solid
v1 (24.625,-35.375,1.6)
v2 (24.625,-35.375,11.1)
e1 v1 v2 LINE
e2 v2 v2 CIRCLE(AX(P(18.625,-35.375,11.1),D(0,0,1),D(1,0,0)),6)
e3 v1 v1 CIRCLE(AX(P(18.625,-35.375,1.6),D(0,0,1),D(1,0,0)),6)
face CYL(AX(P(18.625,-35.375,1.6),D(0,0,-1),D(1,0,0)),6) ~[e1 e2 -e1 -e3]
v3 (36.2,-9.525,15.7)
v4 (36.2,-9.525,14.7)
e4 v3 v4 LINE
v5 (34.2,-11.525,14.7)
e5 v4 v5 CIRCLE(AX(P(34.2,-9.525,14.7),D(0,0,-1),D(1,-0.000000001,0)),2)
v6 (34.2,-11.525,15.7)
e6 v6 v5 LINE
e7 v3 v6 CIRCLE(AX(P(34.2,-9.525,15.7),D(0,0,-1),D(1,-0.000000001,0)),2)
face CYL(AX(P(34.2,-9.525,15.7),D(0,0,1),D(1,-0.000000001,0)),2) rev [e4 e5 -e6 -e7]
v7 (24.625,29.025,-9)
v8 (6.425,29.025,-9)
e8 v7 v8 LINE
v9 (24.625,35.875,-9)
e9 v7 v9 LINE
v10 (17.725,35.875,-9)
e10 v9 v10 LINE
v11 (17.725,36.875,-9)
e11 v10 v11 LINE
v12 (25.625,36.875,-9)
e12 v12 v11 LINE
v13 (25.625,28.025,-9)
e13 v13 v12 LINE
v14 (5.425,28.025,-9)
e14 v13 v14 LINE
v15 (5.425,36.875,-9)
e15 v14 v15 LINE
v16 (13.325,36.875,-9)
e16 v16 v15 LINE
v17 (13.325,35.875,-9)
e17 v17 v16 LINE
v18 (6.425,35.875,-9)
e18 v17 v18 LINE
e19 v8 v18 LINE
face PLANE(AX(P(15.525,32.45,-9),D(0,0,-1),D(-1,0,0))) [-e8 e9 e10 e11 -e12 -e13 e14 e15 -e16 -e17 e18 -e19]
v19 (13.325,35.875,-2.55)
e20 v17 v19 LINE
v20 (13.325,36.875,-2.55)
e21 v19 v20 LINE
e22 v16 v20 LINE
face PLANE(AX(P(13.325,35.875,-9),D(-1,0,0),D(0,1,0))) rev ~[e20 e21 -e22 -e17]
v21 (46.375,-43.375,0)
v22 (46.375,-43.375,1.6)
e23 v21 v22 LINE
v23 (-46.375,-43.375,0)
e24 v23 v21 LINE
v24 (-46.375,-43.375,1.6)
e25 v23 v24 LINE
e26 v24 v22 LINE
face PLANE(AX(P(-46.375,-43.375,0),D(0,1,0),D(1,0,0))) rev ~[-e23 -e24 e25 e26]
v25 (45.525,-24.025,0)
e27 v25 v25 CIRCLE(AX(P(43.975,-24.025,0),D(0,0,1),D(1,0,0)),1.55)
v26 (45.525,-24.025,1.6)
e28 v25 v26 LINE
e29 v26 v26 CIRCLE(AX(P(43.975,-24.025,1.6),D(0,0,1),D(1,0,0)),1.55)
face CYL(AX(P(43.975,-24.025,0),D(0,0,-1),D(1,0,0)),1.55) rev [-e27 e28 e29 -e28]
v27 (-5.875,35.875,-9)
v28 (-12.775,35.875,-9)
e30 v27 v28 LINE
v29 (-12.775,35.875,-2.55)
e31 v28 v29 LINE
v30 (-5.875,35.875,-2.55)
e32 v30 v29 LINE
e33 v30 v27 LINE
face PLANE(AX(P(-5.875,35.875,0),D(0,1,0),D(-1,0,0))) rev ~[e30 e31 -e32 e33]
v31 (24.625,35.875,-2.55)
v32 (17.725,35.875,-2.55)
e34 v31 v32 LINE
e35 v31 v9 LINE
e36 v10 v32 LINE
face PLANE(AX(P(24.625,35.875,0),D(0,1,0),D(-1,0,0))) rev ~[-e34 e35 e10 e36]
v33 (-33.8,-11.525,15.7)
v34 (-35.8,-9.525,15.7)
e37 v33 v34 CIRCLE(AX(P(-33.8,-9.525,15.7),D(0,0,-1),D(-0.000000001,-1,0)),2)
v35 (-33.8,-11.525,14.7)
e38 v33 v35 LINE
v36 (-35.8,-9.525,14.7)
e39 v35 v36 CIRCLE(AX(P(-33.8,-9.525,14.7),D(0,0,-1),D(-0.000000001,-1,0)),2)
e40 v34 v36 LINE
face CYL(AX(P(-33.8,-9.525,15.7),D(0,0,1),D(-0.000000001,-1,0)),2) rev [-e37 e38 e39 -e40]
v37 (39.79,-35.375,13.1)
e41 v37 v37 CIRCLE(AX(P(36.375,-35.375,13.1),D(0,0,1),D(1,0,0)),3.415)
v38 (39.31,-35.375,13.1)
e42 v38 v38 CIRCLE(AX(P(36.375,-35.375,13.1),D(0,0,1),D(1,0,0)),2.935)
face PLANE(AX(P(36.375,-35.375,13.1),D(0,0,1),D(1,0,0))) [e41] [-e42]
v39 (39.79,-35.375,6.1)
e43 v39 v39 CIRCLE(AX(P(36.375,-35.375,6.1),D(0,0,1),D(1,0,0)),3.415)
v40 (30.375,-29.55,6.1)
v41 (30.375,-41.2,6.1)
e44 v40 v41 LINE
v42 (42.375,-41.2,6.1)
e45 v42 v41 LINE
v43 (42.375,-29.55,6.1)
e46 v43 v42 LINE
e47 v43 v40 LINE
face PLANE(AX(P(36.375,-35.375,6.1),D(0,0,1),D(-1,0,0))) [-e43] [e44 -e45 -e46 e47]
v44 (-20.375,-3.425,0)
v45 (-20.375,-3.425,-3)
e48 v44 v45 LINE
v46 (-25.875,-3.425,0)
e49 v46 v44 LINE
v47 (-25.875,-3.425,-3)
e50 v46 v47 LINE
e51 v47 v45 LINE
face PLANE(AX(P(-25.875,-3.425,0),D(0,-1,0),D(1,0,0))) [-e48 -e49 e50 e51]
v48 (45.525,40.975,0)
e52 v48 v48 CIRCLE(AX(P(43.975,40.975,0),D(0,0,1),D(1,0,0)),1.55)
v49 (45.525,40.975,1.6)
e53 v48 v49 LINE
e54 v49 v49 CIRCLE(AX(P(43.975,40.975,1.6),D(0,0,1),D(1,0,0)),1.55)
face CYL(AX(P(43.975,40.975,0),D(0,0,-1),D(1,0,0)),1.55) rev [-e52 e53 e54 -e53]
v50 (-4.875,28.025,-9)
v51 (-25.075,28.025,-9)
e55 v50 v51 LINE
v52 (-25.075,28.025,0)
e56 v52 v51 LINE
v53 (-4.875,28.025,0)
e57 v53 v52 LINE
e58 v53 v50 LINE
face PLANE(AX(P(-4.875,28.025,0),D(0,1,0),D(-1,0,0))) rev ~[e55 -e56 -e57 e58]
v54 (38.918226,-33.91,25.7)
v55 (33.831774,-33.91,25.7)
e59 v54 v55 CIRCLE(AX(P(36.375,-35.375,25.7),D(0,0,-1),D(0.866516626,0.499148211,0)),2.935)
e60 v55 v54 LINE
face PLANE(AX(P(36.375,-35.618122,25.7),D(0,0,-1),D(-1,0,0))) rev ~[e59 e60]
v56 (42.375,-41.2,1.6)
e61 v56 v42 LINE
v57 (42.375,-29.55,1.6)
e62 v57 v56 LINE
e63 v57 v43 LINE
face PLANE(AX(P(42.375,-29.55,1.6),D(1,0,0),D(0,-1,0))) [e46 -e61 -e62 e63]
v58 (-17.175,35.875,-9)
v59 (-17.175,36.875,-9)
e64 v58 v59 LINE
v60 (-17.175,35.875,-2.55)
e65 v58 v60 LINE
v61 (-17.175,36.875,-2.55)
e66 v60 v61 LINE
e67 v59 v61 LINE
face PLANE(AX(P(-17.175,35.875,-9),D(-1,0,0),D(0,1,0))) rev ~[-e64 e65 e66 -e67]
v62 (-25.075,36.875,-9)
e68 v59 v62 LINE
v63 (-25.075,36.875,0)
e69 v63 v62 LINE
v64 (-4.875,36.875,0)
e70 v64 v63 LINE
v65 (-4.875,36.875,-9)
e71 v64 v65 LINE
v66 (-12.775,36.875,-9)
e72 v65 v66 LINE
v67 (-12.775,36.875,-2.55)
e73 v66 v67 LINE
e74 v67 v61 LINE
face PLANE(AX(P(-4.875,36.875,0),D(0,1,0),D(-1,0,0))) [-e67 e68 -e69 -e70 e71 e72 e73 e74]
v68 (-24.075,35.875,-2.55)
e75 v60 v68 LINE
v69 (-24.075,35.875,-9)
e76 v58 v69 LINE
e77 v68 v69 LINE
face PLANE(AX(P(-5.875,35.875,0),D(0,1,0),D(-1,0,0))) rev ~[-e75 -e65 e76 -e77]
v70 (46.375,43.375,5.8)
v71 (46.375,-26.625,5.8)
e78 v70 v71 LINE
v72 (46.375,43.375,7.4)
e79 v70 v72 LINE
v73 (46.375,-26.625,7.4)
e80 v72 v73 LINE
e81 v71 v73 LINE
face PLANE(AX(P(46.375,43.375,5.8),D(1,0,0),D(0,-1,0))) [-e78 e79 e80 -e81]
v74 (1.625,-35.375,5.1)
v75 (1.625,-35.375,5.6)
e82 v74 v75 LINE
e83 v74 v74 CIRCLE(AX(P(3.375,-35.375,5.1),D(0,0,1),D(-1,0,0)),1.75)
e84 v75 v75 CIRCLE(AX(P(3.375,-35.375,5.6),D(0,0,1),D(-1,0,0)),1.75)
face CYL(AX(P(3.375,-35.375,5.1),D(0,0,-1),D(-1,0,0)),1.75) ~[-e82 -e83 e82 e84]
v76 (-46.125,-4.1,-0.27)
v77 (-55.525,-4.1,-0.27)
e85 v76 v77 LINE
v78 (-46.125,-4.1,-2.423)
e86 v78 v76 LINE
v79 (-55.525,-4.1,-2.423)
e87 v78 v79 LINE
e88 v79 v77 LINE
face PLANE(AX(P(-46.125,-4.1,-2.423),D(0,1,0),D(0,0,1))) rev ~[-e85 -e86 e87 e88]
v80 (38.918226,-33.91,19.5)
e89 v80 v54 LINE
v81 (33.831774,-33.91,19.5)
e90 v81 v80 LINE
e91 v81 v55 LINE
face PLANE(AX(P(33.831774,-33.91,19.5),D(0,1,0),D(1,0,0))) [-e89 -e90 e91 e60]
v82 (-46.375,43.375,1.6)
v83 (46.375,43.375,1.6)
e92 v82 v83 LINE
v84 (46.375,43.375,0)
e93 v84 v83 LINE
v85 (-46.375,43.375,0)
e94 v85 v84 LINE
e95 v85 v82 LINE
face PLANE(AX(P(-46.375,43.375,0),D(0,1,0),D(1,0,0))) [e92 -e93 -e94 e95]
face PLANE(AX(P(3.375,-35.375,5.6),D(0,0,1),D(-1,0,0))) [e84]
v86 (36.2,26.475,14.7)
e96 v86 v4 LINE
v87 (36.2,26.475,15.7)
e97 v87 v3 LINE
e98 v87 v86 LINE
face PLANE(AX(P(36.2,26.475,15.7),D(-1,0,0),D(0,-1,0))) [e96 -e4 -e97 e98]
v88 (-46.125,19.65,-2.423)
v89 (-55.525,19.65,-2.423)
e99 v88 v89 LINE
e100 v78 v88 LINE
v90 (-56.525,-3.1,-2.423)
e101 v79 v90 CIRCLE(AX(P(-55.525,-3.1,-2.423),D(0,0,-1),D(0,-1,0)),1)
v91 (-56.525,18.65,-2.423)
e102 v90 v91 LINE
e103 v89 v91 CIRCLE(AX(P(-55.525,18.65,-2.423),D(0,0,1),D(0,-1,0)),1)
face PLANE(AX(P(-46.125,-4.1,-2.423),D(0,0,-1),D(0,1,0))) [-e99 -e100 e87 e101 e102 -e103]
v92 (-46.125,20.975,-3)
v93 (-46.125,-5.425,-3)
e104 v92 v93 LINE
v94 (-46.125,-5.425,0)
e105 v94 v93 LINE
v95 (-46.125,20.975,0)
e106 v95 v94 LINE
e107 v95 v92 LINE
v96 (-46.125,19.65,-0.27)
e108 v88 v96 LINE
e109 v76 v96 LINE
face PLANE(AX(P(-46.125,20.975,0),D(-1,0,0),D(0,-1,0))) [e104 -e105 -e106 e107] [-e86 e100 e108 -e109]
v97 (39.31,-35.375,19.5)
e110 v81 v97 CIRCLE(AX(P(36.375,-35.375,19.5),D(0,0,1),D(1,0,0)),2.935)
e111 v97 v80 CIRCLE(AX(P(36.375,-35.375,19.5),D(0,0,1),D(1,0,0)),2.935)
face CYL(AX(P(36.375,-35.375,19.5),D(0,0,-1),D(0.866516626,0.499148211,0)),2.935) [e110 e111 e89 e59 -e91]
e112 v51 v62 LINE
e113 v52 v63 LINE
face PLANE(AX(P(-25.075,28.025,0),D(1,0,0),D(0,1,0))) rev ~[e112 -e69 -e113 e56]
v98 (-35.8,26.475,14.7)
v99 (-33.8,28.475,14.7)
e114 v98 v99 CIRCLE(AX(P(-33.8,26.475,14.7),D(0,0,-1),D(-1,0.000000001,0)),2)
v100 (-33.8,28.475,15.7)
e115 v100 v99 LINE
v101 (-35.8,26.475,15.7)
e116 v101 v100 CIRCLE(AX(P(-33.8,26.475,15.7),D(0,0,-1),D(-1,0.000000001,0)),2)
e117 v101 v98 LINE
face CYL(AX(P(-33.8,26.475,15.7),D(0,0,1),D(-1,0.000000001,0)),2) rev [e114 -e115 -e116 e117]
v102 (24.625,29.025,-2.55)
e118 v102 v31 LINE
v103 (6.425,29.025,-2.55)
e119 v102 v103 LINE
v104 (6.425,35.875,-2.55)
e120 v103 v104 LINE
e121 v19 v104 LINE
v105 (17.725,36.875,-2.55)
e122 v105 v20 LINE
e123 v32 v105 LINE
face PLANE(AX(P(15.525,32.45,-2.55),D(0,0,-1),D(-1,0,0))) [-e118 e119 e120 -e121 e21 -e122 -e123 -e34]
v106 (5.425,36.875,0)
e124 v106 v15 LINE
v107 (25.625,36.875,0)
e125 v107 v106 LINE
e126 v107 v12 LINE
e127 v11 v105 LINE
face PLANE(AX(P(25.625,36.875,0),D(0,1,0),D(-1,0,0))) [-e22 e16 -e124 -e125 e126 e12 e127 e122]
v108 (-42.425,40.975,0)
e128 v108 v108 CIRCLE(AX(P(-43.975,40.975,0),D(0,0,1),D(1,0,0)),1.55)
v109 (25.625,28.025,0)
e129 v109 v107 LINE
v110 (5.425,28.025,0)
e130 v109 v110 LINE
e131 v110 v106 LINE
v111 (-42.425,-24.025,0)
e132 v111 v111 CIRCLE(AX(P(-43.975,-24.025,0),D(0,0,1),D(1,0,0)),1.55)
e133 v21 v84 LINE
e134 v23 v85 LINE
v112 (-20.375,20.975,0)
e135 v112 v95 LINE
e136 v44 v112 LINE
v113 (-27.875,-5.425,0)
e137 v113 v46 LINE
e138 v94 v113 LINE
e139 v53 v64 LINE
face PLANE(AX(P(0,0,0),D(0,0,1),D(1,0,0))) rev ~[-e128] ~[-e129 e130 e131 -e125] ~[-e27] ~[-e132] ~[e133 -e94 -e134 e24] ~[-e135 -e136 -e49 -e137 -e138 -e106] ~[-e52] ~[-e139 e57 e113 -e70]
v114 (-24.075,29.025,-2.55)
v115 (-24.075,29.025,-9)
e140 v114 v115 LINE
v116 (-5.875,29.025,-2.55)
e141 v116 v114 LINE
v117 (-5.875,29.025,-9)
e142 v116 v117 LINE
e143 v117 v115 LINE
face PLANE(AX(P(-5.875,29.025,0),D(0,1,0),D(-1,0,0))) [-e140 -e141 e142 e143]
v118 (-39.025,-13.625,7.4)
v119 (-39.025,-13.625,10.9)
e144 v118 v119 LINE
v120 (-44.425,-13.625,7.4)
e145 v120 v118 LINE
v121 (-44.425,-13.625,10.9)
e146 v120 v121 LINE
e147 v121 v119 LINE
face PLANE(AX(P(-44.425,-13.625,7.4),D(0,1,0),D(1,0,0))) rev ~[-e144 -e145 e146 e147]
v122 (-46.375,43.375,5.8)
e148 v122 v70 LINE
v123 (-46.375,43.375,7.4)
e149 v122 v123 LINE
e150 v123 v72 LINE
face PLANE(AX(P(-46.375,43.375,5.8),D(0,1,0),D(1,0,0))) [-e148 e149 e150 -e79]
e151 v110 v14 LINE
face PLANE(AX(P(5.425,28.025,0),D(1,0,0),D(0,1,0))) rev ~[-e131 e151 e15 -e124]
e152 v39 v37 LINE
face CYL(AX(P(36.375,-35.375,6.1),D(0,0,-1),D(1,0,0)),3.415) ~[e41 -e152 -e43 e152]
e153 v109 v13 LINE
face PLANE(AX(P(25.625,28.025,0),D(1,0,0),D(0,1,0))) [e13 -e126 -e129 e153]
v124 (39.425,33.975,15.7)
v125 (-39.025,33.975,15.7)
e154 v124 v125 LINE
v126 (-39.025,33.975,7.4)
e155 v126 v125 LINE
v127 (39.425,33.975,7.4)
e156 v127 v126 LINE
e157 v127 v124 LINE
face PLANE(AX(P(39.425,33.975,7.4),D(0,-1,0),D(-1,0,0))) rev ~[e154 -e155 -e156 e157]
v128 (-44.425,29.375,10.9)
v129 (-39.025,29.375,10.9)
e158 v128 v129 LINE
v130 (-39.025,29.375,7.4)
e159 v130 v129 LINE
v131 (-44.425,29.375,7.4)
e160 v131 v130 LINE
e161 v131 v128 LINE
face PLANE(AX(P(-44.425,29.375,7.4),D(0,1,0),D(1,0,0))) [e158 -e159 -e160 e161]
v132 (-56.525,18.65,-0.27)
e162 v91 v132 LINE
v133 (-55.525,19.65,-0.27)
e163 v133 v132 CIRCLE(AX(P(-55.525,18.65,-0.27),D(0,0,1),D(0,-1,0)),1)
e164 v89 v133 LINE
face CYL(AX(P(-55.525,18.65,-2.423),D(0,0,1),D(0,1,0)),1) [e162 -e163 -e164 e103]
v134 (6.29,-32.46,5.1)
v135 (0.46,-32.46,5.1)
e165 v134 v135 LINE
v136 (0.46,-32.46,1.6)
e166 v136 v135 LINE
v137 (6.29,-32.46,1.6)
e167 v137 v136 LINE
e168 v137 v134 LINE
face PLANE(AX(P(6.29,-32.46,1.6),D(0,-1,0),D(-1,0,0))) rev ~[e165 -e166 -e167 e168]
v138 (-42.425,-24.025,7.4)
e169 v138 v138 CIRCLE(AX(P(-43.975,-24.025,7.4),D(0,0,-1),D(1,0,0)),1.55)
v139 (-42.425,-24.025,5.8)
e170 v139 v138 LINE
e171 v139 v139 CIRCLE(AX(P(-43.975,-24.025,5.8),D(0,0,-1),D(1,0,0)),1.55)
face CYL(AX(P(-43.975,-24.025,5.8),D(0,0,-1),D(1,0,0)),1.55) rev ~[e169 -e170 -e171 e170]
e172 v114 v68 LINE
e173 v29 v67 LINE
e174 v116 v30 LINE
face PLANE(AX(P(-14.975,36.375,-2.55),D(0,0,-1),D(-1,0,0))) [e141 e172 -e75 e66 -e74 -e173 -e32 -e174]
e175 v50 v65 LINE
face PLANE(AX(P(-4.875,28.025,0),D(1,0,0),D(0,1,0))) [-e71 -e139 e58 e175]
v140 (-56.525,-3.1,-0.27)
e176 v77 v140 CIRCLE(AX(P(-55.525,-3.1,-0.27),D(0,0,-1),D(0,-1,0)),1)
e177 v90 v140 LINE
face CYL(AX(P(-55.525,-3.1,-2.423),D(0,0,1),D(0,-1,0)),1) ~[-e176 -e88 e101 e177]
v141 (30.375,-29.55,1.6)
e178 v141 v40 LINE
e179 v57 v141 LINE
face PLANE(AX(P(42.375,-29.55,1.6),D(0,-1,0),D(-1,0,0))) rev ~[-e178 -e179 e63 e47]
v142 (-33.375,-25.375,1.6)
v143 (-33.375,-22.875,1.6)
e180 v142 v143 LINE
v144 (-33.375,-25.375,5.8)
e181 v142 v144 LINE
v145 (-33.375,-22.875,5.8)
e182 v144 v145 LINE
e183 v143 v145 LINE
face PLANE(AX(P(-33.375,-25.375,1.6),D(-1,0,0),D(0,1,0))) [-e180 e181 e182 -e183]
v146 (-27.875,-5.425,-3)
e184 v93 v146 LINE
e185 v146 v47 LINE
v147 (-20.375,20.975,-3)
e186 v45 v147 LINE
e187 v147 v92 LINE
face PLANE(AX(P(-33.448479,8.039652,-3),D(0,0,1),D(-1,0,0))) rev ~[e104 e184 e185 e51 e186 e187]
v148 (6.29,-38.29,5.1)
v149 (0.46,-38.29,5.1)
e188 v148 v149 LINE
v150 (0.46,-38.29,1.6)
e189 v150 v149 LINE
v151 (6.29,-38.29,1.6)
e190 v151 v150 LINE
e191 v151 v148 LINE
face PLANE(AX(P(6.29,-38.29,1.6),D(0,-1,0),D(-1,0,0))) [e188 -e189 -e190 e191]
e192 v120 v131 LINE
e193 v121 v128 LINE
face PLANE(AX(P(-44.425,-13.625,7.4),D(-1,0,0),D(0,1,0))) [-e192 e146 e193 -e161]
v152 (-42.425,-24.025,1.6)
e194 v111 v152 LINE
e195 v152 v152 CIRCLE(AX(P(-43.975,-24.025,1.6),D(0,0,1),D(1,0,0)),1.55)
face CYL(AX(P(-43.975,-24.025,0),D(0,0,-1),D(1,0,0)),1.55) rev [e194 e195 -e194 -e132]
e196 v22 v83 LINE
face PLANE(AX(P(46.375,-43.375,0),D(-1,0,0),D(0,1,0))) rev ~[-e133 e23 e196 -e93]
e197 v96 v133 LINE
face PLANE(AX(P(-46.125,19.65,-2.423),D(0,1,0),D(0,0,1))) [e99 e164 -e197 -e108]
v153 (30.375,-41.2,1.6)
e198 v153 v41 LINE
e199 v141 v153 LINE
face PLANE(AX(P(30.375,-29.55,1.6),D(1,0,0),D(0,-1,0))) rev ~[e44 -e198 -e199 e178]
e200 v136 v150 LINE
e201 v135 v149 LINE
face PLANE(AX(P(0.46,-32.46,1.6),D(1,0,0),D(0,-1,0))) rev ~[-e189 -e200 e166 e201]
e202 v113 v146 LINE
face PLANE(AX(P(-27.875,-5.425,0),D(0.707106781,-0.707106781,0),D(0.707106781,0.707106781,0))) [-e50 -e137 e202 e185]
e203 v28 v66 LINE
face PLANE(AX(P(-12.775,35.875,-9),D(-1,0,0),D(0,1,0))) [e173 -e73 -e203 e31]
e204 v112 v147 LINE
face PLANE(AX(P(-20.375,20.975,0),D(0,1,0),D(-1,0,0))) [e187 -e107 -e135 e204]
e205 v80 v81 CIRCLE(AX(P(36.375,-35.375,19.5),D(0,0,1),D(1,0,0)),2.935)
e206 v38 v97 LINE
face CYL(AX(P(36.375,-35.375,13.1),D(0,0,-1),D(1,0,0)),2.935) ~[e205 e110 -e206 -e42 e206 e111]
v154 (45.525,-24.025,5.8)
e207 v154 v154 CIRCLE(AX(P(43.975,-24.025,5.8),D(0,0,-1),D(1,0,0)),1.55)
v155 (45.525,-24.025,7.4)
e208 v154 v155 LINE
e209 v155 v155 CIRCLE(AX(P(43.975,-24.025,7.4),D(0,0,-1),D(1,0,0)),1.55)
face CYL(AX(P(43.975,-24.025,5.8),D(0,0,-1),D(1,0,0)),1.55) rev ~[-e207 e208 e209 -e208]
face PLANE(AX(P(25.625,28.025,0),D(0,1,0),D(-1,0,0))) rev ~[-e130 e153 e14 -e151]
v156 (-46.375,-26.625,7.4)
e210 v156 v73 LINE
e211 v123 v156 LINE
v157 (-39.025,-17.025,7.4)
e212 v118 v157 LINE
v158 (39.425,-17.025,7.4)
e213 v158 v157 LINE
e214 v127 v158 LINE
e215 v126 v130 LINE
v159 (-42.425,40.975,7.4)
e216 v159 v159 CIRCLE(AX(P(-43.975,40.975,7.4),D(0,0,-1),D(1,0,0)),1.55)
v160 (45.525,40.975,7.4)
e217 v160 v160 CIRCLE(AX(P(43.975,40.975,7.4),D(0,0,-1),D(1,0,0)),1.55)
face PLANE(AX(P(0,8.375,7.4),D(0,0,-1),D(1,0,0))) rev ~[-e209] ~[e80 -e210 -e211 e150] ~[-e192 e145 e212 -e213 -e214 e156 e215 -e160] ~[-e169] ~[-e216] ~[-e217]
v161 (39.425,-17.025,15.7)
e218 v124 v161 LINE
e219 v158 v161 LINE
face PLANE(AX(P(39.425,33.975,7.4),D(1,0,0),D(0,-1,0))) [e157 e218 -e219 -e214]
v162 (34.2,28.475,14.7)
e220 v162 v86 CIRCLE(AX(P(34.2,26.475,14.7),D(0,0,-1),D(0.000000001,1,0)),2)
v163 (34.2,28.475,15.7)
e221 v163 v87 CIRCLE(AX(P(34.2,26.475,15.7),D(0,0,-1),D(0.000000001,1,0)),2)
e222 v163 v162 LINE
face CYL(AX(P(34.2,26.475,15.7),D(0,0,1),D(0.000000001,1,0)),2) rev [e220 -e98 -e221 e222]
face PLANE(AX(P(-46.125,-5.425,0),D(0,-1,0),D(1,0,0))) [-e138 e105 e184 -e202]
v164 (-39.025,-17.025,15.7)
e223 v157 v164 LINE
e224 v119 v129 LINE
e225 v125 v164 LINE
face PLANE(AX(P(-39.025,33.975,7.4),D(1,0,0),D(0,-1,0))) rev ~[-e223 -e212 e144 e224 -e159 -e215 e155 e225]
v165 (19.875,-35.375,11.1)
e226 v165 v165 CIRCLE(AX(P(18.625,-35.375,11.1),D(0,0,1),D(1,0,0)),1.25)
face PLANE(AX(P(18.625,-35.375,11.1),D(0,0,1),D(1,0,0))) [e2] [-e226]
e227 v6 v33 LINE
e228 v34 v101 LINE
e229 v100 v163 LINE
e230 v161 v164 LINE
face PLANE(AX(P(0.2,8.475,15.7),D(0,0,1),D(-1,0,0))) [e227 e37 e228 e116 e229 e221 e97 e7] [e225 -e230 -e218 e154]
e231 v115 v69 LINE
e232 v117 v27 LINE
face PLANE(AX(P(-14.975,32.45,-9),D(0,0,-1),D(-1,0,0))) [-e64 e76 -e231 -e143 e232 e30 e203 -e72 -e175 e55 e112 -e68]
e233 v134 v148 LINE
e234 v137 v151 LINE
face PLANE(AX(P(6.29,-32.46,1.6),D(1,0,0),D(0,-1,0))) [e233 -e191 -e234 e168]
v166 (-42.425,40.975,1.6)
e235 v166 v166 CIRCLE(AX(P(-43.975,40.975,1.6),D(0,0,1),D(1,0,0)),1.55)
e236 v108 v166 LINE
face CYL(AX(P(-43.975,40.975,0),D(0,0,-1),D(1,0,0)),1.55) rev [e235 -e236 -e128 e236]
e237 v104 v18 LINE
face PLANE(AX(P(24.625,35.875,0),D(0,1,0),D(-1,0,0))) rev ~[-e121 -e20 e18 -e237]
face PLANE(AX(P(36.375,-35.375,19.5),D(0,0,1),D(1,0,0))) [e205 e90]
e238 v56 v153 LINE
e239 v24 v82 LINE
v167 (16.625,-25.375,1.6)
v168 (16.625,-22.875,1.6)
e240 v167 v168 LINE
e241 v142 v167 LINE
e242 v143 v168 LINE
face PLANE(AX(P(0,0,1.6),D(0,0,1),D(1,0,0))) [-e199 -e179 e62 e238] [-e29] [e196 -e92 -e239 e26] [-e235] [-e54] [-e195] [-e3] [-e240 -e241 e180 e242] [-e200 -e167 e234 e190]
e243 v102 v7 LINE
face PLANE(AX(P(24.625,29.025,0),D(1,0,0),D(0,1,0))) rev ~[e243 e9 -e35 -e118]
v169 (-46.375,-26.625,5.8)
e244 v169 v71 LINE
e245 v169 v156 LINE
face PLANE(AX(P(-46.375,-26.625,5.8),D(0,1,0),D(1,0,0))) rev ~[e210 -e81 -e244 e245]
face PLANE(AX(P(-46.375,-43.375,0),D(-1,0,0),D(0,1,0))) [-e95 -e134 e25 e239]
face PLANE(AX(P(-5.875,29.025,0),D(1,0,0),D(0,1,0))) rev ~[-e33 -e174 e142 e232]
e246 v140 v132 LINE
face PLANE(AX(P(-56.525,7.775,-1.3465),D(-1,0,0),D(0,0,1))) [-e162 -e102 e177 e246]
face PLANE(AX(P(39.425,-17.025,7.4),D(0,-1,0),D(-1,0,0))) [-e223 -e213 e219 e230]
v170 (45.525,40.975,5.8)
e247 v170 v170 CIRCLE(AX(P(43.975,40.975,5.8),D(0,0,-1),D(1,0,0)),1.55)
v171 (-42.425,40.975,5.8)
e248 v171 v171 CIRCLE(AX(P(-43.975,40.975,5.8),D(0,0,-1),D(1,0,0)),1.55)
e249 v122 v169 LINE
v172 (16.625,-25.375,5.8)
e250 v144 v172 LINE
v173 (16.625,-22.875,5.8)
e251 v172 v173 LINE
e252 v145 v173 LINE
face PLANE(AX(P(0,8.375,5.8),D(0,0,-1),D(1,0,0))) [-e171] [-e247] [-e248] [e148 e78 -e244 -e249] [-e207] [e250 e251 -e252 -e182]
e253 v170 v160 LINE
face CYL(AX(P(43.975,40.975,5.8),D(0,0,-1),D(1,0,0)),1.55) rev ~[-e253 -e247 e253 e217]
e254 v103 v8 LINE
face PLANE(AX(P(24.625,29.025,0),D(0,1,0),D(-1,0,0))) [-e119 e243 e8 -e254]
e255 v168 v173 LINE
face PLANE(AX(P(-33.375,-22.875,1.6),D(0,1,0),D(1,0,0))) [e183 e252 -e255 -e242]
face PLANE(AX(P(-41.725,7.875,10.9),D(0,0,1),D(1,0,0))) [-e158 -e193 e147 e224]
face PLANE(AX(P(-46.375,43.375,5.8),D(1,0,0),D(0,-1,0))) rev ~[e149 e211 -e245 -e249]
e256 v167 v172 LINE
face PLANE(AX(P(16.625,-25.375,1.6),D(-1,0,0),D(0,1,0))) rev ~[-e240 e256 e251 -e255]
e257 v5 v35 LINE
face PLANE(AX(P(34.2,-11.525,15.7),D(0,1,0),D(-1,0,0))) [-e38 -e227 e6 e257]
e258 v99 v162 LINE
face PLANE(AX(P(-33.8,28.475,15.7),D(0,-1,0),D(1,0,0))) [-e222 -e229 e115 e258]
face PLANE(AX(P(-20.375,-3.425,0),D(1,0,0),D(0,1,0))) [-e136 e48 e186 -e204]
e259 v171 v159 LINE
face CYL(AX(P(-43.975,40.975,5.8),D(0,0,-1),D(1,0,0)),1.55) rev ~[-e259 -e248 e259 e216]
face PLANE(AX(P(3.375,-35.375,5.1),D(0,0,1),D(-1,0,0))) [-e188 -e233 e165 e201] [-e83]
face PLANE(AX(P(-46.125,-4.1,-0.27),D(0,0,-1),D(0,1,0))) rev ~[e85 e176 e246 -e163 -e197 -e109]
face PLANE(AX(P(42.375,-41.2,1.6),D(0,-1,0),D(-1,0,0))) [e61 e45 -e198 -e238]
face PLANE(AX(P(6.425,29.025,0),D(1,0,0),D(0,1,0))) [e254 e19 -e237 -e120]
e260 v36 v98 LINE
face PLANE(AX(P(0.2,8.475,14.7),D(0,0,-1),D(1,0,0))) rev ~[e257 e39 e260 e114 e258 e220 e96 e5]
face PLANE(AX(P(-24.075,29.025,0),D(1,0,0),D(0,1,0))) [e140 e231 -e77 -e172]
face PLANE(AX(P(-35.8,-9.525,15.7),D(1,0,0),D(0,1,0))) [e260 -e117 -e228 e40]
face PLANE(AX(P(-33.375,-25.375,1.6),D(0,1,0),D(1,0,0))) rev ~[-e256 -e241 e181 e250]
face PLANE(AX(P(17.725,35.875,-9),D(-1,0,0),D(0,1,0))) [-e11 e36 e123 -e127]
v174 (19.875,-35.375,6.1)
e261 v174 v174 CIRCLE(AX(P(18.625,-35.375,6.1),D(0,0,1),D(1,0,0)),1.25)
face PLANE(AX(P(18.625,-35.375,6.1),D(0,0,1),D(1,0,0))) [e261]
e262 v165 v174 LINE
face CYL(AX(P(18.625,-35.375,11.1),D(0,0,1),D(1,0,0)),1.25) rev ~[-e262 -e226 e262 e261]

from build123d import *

# Parameters (mm, degrees)
SKETCH1_W                             = 92.75
SKETCH1_H                             = 86.75
SKETCH1_R                             = 1.55
BOSS_EXTRUDE1_FIRST_PCB_DEPTH         = 1.6
SKETCH2_R                             = 6
BOSS_EXTRUDE2_SPEAKER_DEPTH           = 9.5
SKETCH15_R                            = 1.25
CUT_EXTRUDE1_SPEAKER_HOLE_DEPTH       = 5
SKETCH3_W                             = 12
SKETCH3_H                             = 11.65
BOSS_EXTRUDE3_ROTARY_SWITCH_DEPTH     = 4.5
SKETCH4_W                             = 5.83
SKETCH4_H                             = 5.83
BOSS_EXTRUDE4_RESET_SWITCH_DEPTH      = 3.5
SKETCH5_R                             = 1.75
BOSS_EXTRUDE5_RESET_BUTTON_DEPTH      = 0.5
SKETCH16_R                            = 3.415
BOSS_EXTRUDE6_ROTARY_SWITCH_DEPTH     = 7
SKETCH17_R                            = 2.935
BOSS_EXTRUDE7_ROTARY_SWITCH_DEPTH     = 6.4
BOSS_EXTRUDE8_ROTARY_SWITCH_DEPTH     = 6.2
BOSS_EXTRUDE9_SD_CARD_SLOT_DEPTH      = 3
SKETCH19_W                            = 50
SKETCH19_H                            = 2.5
BOSS_EXTRUDE10_CONNECTOR_DEPTH        = 4.2
SKETCH11_W                            = 92.75
SKETCH11_H                            = 70
SKETCH11_R                            = 1.55
BOSS_EXTRUDE11_UPPER_PCB_DEPTH        = 1.6
SKETCH12_W                            = 78.45
SKETCH12_H                            = 51
BOSS_EXTRUDE12_LCD_DEPTH              = 8.3
SKETCH24_W                            = 5.4
SKETCH24_H                            = 43
BOSS_EXTRUDE13_LCD_BUMPOUT_DEPTH      = 3.5
CUT_EXTRUDE2_SCREEN_RECESS_DEPTH      = 1
SKETCH21_W                            = 20.2
SKETCH21_H                            = 8.85
SKETCH21_W_2                          = 18.2
SKETCH21_H_2                          = 6.85
BOSS_EXTRUDE14_CONNECTORS_DEPTH       = 9
SKETCH22_W                            = 18.2
SKETCH22_H                            = 6.85
BOSS_EXTRUDE15_CONNECTOR_RECESS_DEPTH = 2.55
SKETCH23_W                            = 4.4
SKETCH23_H                            = 1
CUT_EXTRUDE3_CONNECTOR_NOTCH_DEPTH    = 6.45
SKETCH20_W                            = 2.153
SKETCH20_H                            = 23.75
BOSS_EXTRUDE16_SD_CARD_DEPTH          = 10.4
FILLET1_SD_CARD_R                     = 1


with BuildPart() as part:
    # Sketch1 → Boss-Extrude1 - First PCB (new body)
    with BuildSketch(Plane.XY):
        Rectangle(SKETCH1_W, SKETCH1_H)
        with Locations((-43.975, 40.975)):
            Circle(SKETCH1_R, mode=Mode.SUBTRACT)
        with Locations((43.975, 40.975)):
            Circle(SKETCH1_R, mode=Mode.SUBTRACT)
        with Locations((43.975, -24.025)):
            Circle(SKETCH1_R, mode=Mode.SUBTRACT)
        with Locations((-43.975, -24.025)):
            Circle(SKETCH1_R, mode=Mode.SUBTRACT)
    extrude(amount=BOSS_EXTRUDE1_FIRST_PCB_DEPTH)

    # Sketch2 → Boss-Extrude2 - Speaker (add)
    with BuildSketch(Plane.XY.offset(1.6)):
        with Locations((18.625, -35.375)):
            Circle(SKETCH2_R)
    extrude(amount=BOSS_EXTRUDE2_SPEAKER_DEPTH)

    # Sketch15 → Cut-Extrude1 - Speaker Hole (cut)
    with BuildSketch(Plane.XY.offset(11.1)):
        with Locations((18.625, -35.375)):
            Circle(SKETCH15_R)
    extrude(amount=-CUT_EXTRUDE1_SPEAKER_HOLE_DEPTH, mode=Mode.SUBTRACT)

    # Sketch3 → Boss-Extrude3 - Rotary Switch (add)
    with BuildSketch(Plane(origin=(0, 0, 1.6), x_dir=(-1, 0, 0), z_dir=(0, 0, 1))):
        with Locations((-36.375, 35.375)):
            Rectangle(SKETCH3_W, SKETCH3_H)
    extrude(amount=BOSS_EXTRUDE3_ROTARY_SWITCH_DEPTH)

    # Sketch4 → Boss-Extrude4 - Reset Switch (add)
    with BuildSketch(Plane(origin=(0, 0, 1.6), x_dir=(-1, 0, 0), z_dir=(0, 0, 1))):
        with Locations((-3.375, 35.375)):
            Rectangle(SKETCH4_W, SKETCH4_H)
    extrude(amount=BOSS_EXTRUDE4_RESET_SWITCH_DEPTH)

    # Sketch5 → Boss-Extrude5 - Reset Button (add)
    with BuildSketch(Plane(origin=(0, 0, 5.1), x_dir=(-1, 0, 0), z_dir=(0, 0, 1))):
        with Locations((-3.375, 35.375)):
            Circle(SKETCH5_R)
    extrude(amount=BOSS_EXTRUDE5_RESET_BUTTON_DEPTH)

    # Sketch16 → Boss-Extrude6 - Rotary Switch (add)
    with BuildSketch(Plane.XY.offset(6.1)):
        with Locations((36.375, -35.375)):
            Circle(SKETCH16_R)
    extrude(amount=BOSS_EXTRUDE6_ROTARY_SWITCH_DEPTH)

    # Sketch17 → Boss-Extrude7 - Rotary Switch (add)
    with BuildSketch(Plane.XY.offset(13.1)):
        with Locations((36.375, -35.375)):
            Circle(SKETCH17_R)
    extrude(amount=BOSS_EXTRUDE7_ROTARY_SWITCH_DEPTH)

    # Sketch18 → Boss-Extrude8 - Rotary Switch (add)
    with BuildSketch(Plane.XY.offset(19.5)):
        with BuildLine():
            Line((33.831773703, -33.91), (38.918226297, -33.91))
            ThreePointArc((38.918226297, -33.91), (36.375, -38.31), (33.831773703, -33.91))
        make_face()
    extrude(amount=BOSS_EXTRUDE8_ROTARY_SWITCH_DEPTH)

    # Sketch9 → Boss-Extrude9 - SD Card Slot (add)
    with BuildSketch(Plane(origin=(0, 0, 0), x_dir=(1, 0, 0), z_dir=(0, 0, -1))):
        Polygon((-46.125, 5.425), (-27.875, 5.425), (-25.875, 3.425), (-20.375, 3.425), (-20.375, -20.975), (-46.125, -20.975), align=None)
    extrude(amount=BOSS_EXTRUDE9_SD_CARD_SLOT_DEPTH)

    # Sketch19 → Boss-Extrude10 - Connector (add)
    with BuildSketch(Plane.XY.offset(1.6)):
        with Locations((-8.375, -24.125)):
            Rectangle(SKETCH19_W, SKETCH19_H)
    extrude(amount=BOSS_EXTRUDE10_CONNECTOR_DEPTH)

    # Sketch11 → Boss-Extrude11 - Upper PCB (add)
    with BuildSketch(Plane(origin=(0, -2, 5.8), x_dir=(1, 0, 0), z_dir=(0, 0, -1))):
        with Locations((0, -10.375)):
            Rectangle(SKETCH11_W, SKETCH11_H)
        with Locations((-43.975, -42.975)):
            Circle(SKETCH11_R, mode=Mode.SUBTRACT)
        with Locations((-43.975, 22.025)):
            Circle(SKETCH11_R, mode=Mode.SUBTRACT)
        with Locations((43.975, -42.975)):
            Circle(SKETCH11_R, mode=Mode.SUBTRACT)
        with Locations((43.975, 22.025)):
            Circle(SKETCH11_R, mode=Mode.SUBTRACT)
    extrude(amount=-BOSS_EXTRUDE11_UPPER_PCB_DEPTH)

    # Sketch12 → Boss-Extrude12 - LCD (add)
    with BuildSketch(Plane(origin=(0, 0, 7.4), x_dir=(-1, 0, 0), z_dir=(0, 0, 1))):
        with Locations((-0.2, -8.475)):
            Rectangle(SKETCH12_W, SKETCH12_H)
    extrude(amount=BOSS_EXTRUDE12_LCD_DEPTH)

    # Sketch24 → Boss-Extrude13 - LCD Bumpout (add)
    with BuildSketch(Plane.XY.offset(7.4)):
        with Locations((-41.725, 7.875)):
            Rectangle(SKETCH24_W, SKETCH24_H)
    extrude(amount=BOSS_EXTRUDE13_LCD_BUMPOUT_DEPTH)

    # Sketch13 → Cut-Extrude2 - Screen Recess (cut)
    with BuildSketch(Plane(origin=(0, 0, 15.7), x_dir=(-1, 0, 0), z_dir=(0, 0, 1))):
        with BuildLine():
            Line((-34.2, 11.525), (33.8, 11.525))
            ThreePointArc((33.8, 11.525), (35.214213562, 10.939213562), (35.8, 9.525))
            Line((35.8, 9.525), (35.8, -26.475))
            ThreePointArc((35.8, -26.475), (35.214213562, -27.889213562), (33.8, -28.475))
            Line((33.8, -28.475), (-34.2, -28.475))
            ThreePointArc((-34.2, -28.475), (-35.614213562, -27.889213562), (-36.2, -26.475))
            Line((-36.2, -26.475), (-36.2, 9.525))
            ThreePointArc((-36.2, 9.525), (-35.614213562, 10.939213562), (-34.2, 11.525))
        make_face()
    extrude(amount=-CUT_EXTRUDE2_SCREEN_RECESS_DEPTH, mode=Mode.SUBTRACT)

    # Sketch21 → Boss-Extrude14 - Connectors (add)
    with BuildSketch(Plane(origin=(0, 0, 0), x_dir=(-1, 0, 0), z_dir=(0, 0, -1))):
        with Locations((-15.525, 32.45)):
            Rectangle(SKETCH21_W, SKETCH21_H)
        with Locations((-15.525, 32.45)):
            Rectangle(SKETCH21_W_2, SKETCH21_H_2, mode=Mode.SUBTRACT)
        with Locations((14.975, 32.45)):
            Rectangle(SKETCH21_W, SKETCH21_H)
        with Locations((14.975, 32.45)):
            Rectangle(SKETCH21_W_2, SKETCH21_H_2, mode=Mode.SUBTRACT)
    extrude(amount=BOSS_EXTRUDE14_CONNECTORS_DEPTH)

    # Sketch22 → Boss-Extrude15 - Connector Recess (add)
    with BuildSketch(Plane(origin=(0, 0, 0), x_dir=(-1, 0, 0), z_dir=(0, 0, -1))):
        with Locations((-15.525, 32.45)):
            Rectangle(SKETCH22_W, SKETCH22_H)
        with Locations((14.975, 32.45)):
            Rectangle(SKETCH22_W, SKETCH22_H)
    extrude(amount=BOSS_EXTRUDE15_CONNECTOR_RECESS_DEPTH)

    # Sketch23 → Cut-Extrude3 - Connector Notch (cut)
    with BuildSketch(Plane(origin=(0, 0, -9), x_dir=(-1, 0, 0), z_dir=(0, 0, -1))):
        with Locations((-15.525, 36.375)):
            Rectangle(SKETCH23_W, SKETCH23_H)
        with Locations((14.975, 36.375)):
            Rectangle(SKETCH23_W, SKETCH23_H)
    extrude(amount=-CUT_EXTRUDE3_CONNECTOR_NOTCH_DEPTH, mode=Mode.SUBTRACT)

    # Sketch20 → Boss-Extrude16 - SD Card (add)
    with BuildSketch(Plane.ZY.offset(46.125)):
        with Locations((-1.3465, 7.775)):
            Rectangle(SKETCH20_W, SKETCH20_H)
    extrude(amount=BOSS_EXTRUDE16_SD_CARD_DEPTH)

    # Fillet1 - SD Card
    fillet1_sd_card_edges = [part.edges().sort_by_distance(p)[0] for p in [
        (-56.525, -4.1, -1.3465),
        (-56.525, 19.65, -1.3465),
    ]]
    fillet(fillet1_sd_card_edges, radius=FILLET1_SD_CARD_R)


solid = part.part
